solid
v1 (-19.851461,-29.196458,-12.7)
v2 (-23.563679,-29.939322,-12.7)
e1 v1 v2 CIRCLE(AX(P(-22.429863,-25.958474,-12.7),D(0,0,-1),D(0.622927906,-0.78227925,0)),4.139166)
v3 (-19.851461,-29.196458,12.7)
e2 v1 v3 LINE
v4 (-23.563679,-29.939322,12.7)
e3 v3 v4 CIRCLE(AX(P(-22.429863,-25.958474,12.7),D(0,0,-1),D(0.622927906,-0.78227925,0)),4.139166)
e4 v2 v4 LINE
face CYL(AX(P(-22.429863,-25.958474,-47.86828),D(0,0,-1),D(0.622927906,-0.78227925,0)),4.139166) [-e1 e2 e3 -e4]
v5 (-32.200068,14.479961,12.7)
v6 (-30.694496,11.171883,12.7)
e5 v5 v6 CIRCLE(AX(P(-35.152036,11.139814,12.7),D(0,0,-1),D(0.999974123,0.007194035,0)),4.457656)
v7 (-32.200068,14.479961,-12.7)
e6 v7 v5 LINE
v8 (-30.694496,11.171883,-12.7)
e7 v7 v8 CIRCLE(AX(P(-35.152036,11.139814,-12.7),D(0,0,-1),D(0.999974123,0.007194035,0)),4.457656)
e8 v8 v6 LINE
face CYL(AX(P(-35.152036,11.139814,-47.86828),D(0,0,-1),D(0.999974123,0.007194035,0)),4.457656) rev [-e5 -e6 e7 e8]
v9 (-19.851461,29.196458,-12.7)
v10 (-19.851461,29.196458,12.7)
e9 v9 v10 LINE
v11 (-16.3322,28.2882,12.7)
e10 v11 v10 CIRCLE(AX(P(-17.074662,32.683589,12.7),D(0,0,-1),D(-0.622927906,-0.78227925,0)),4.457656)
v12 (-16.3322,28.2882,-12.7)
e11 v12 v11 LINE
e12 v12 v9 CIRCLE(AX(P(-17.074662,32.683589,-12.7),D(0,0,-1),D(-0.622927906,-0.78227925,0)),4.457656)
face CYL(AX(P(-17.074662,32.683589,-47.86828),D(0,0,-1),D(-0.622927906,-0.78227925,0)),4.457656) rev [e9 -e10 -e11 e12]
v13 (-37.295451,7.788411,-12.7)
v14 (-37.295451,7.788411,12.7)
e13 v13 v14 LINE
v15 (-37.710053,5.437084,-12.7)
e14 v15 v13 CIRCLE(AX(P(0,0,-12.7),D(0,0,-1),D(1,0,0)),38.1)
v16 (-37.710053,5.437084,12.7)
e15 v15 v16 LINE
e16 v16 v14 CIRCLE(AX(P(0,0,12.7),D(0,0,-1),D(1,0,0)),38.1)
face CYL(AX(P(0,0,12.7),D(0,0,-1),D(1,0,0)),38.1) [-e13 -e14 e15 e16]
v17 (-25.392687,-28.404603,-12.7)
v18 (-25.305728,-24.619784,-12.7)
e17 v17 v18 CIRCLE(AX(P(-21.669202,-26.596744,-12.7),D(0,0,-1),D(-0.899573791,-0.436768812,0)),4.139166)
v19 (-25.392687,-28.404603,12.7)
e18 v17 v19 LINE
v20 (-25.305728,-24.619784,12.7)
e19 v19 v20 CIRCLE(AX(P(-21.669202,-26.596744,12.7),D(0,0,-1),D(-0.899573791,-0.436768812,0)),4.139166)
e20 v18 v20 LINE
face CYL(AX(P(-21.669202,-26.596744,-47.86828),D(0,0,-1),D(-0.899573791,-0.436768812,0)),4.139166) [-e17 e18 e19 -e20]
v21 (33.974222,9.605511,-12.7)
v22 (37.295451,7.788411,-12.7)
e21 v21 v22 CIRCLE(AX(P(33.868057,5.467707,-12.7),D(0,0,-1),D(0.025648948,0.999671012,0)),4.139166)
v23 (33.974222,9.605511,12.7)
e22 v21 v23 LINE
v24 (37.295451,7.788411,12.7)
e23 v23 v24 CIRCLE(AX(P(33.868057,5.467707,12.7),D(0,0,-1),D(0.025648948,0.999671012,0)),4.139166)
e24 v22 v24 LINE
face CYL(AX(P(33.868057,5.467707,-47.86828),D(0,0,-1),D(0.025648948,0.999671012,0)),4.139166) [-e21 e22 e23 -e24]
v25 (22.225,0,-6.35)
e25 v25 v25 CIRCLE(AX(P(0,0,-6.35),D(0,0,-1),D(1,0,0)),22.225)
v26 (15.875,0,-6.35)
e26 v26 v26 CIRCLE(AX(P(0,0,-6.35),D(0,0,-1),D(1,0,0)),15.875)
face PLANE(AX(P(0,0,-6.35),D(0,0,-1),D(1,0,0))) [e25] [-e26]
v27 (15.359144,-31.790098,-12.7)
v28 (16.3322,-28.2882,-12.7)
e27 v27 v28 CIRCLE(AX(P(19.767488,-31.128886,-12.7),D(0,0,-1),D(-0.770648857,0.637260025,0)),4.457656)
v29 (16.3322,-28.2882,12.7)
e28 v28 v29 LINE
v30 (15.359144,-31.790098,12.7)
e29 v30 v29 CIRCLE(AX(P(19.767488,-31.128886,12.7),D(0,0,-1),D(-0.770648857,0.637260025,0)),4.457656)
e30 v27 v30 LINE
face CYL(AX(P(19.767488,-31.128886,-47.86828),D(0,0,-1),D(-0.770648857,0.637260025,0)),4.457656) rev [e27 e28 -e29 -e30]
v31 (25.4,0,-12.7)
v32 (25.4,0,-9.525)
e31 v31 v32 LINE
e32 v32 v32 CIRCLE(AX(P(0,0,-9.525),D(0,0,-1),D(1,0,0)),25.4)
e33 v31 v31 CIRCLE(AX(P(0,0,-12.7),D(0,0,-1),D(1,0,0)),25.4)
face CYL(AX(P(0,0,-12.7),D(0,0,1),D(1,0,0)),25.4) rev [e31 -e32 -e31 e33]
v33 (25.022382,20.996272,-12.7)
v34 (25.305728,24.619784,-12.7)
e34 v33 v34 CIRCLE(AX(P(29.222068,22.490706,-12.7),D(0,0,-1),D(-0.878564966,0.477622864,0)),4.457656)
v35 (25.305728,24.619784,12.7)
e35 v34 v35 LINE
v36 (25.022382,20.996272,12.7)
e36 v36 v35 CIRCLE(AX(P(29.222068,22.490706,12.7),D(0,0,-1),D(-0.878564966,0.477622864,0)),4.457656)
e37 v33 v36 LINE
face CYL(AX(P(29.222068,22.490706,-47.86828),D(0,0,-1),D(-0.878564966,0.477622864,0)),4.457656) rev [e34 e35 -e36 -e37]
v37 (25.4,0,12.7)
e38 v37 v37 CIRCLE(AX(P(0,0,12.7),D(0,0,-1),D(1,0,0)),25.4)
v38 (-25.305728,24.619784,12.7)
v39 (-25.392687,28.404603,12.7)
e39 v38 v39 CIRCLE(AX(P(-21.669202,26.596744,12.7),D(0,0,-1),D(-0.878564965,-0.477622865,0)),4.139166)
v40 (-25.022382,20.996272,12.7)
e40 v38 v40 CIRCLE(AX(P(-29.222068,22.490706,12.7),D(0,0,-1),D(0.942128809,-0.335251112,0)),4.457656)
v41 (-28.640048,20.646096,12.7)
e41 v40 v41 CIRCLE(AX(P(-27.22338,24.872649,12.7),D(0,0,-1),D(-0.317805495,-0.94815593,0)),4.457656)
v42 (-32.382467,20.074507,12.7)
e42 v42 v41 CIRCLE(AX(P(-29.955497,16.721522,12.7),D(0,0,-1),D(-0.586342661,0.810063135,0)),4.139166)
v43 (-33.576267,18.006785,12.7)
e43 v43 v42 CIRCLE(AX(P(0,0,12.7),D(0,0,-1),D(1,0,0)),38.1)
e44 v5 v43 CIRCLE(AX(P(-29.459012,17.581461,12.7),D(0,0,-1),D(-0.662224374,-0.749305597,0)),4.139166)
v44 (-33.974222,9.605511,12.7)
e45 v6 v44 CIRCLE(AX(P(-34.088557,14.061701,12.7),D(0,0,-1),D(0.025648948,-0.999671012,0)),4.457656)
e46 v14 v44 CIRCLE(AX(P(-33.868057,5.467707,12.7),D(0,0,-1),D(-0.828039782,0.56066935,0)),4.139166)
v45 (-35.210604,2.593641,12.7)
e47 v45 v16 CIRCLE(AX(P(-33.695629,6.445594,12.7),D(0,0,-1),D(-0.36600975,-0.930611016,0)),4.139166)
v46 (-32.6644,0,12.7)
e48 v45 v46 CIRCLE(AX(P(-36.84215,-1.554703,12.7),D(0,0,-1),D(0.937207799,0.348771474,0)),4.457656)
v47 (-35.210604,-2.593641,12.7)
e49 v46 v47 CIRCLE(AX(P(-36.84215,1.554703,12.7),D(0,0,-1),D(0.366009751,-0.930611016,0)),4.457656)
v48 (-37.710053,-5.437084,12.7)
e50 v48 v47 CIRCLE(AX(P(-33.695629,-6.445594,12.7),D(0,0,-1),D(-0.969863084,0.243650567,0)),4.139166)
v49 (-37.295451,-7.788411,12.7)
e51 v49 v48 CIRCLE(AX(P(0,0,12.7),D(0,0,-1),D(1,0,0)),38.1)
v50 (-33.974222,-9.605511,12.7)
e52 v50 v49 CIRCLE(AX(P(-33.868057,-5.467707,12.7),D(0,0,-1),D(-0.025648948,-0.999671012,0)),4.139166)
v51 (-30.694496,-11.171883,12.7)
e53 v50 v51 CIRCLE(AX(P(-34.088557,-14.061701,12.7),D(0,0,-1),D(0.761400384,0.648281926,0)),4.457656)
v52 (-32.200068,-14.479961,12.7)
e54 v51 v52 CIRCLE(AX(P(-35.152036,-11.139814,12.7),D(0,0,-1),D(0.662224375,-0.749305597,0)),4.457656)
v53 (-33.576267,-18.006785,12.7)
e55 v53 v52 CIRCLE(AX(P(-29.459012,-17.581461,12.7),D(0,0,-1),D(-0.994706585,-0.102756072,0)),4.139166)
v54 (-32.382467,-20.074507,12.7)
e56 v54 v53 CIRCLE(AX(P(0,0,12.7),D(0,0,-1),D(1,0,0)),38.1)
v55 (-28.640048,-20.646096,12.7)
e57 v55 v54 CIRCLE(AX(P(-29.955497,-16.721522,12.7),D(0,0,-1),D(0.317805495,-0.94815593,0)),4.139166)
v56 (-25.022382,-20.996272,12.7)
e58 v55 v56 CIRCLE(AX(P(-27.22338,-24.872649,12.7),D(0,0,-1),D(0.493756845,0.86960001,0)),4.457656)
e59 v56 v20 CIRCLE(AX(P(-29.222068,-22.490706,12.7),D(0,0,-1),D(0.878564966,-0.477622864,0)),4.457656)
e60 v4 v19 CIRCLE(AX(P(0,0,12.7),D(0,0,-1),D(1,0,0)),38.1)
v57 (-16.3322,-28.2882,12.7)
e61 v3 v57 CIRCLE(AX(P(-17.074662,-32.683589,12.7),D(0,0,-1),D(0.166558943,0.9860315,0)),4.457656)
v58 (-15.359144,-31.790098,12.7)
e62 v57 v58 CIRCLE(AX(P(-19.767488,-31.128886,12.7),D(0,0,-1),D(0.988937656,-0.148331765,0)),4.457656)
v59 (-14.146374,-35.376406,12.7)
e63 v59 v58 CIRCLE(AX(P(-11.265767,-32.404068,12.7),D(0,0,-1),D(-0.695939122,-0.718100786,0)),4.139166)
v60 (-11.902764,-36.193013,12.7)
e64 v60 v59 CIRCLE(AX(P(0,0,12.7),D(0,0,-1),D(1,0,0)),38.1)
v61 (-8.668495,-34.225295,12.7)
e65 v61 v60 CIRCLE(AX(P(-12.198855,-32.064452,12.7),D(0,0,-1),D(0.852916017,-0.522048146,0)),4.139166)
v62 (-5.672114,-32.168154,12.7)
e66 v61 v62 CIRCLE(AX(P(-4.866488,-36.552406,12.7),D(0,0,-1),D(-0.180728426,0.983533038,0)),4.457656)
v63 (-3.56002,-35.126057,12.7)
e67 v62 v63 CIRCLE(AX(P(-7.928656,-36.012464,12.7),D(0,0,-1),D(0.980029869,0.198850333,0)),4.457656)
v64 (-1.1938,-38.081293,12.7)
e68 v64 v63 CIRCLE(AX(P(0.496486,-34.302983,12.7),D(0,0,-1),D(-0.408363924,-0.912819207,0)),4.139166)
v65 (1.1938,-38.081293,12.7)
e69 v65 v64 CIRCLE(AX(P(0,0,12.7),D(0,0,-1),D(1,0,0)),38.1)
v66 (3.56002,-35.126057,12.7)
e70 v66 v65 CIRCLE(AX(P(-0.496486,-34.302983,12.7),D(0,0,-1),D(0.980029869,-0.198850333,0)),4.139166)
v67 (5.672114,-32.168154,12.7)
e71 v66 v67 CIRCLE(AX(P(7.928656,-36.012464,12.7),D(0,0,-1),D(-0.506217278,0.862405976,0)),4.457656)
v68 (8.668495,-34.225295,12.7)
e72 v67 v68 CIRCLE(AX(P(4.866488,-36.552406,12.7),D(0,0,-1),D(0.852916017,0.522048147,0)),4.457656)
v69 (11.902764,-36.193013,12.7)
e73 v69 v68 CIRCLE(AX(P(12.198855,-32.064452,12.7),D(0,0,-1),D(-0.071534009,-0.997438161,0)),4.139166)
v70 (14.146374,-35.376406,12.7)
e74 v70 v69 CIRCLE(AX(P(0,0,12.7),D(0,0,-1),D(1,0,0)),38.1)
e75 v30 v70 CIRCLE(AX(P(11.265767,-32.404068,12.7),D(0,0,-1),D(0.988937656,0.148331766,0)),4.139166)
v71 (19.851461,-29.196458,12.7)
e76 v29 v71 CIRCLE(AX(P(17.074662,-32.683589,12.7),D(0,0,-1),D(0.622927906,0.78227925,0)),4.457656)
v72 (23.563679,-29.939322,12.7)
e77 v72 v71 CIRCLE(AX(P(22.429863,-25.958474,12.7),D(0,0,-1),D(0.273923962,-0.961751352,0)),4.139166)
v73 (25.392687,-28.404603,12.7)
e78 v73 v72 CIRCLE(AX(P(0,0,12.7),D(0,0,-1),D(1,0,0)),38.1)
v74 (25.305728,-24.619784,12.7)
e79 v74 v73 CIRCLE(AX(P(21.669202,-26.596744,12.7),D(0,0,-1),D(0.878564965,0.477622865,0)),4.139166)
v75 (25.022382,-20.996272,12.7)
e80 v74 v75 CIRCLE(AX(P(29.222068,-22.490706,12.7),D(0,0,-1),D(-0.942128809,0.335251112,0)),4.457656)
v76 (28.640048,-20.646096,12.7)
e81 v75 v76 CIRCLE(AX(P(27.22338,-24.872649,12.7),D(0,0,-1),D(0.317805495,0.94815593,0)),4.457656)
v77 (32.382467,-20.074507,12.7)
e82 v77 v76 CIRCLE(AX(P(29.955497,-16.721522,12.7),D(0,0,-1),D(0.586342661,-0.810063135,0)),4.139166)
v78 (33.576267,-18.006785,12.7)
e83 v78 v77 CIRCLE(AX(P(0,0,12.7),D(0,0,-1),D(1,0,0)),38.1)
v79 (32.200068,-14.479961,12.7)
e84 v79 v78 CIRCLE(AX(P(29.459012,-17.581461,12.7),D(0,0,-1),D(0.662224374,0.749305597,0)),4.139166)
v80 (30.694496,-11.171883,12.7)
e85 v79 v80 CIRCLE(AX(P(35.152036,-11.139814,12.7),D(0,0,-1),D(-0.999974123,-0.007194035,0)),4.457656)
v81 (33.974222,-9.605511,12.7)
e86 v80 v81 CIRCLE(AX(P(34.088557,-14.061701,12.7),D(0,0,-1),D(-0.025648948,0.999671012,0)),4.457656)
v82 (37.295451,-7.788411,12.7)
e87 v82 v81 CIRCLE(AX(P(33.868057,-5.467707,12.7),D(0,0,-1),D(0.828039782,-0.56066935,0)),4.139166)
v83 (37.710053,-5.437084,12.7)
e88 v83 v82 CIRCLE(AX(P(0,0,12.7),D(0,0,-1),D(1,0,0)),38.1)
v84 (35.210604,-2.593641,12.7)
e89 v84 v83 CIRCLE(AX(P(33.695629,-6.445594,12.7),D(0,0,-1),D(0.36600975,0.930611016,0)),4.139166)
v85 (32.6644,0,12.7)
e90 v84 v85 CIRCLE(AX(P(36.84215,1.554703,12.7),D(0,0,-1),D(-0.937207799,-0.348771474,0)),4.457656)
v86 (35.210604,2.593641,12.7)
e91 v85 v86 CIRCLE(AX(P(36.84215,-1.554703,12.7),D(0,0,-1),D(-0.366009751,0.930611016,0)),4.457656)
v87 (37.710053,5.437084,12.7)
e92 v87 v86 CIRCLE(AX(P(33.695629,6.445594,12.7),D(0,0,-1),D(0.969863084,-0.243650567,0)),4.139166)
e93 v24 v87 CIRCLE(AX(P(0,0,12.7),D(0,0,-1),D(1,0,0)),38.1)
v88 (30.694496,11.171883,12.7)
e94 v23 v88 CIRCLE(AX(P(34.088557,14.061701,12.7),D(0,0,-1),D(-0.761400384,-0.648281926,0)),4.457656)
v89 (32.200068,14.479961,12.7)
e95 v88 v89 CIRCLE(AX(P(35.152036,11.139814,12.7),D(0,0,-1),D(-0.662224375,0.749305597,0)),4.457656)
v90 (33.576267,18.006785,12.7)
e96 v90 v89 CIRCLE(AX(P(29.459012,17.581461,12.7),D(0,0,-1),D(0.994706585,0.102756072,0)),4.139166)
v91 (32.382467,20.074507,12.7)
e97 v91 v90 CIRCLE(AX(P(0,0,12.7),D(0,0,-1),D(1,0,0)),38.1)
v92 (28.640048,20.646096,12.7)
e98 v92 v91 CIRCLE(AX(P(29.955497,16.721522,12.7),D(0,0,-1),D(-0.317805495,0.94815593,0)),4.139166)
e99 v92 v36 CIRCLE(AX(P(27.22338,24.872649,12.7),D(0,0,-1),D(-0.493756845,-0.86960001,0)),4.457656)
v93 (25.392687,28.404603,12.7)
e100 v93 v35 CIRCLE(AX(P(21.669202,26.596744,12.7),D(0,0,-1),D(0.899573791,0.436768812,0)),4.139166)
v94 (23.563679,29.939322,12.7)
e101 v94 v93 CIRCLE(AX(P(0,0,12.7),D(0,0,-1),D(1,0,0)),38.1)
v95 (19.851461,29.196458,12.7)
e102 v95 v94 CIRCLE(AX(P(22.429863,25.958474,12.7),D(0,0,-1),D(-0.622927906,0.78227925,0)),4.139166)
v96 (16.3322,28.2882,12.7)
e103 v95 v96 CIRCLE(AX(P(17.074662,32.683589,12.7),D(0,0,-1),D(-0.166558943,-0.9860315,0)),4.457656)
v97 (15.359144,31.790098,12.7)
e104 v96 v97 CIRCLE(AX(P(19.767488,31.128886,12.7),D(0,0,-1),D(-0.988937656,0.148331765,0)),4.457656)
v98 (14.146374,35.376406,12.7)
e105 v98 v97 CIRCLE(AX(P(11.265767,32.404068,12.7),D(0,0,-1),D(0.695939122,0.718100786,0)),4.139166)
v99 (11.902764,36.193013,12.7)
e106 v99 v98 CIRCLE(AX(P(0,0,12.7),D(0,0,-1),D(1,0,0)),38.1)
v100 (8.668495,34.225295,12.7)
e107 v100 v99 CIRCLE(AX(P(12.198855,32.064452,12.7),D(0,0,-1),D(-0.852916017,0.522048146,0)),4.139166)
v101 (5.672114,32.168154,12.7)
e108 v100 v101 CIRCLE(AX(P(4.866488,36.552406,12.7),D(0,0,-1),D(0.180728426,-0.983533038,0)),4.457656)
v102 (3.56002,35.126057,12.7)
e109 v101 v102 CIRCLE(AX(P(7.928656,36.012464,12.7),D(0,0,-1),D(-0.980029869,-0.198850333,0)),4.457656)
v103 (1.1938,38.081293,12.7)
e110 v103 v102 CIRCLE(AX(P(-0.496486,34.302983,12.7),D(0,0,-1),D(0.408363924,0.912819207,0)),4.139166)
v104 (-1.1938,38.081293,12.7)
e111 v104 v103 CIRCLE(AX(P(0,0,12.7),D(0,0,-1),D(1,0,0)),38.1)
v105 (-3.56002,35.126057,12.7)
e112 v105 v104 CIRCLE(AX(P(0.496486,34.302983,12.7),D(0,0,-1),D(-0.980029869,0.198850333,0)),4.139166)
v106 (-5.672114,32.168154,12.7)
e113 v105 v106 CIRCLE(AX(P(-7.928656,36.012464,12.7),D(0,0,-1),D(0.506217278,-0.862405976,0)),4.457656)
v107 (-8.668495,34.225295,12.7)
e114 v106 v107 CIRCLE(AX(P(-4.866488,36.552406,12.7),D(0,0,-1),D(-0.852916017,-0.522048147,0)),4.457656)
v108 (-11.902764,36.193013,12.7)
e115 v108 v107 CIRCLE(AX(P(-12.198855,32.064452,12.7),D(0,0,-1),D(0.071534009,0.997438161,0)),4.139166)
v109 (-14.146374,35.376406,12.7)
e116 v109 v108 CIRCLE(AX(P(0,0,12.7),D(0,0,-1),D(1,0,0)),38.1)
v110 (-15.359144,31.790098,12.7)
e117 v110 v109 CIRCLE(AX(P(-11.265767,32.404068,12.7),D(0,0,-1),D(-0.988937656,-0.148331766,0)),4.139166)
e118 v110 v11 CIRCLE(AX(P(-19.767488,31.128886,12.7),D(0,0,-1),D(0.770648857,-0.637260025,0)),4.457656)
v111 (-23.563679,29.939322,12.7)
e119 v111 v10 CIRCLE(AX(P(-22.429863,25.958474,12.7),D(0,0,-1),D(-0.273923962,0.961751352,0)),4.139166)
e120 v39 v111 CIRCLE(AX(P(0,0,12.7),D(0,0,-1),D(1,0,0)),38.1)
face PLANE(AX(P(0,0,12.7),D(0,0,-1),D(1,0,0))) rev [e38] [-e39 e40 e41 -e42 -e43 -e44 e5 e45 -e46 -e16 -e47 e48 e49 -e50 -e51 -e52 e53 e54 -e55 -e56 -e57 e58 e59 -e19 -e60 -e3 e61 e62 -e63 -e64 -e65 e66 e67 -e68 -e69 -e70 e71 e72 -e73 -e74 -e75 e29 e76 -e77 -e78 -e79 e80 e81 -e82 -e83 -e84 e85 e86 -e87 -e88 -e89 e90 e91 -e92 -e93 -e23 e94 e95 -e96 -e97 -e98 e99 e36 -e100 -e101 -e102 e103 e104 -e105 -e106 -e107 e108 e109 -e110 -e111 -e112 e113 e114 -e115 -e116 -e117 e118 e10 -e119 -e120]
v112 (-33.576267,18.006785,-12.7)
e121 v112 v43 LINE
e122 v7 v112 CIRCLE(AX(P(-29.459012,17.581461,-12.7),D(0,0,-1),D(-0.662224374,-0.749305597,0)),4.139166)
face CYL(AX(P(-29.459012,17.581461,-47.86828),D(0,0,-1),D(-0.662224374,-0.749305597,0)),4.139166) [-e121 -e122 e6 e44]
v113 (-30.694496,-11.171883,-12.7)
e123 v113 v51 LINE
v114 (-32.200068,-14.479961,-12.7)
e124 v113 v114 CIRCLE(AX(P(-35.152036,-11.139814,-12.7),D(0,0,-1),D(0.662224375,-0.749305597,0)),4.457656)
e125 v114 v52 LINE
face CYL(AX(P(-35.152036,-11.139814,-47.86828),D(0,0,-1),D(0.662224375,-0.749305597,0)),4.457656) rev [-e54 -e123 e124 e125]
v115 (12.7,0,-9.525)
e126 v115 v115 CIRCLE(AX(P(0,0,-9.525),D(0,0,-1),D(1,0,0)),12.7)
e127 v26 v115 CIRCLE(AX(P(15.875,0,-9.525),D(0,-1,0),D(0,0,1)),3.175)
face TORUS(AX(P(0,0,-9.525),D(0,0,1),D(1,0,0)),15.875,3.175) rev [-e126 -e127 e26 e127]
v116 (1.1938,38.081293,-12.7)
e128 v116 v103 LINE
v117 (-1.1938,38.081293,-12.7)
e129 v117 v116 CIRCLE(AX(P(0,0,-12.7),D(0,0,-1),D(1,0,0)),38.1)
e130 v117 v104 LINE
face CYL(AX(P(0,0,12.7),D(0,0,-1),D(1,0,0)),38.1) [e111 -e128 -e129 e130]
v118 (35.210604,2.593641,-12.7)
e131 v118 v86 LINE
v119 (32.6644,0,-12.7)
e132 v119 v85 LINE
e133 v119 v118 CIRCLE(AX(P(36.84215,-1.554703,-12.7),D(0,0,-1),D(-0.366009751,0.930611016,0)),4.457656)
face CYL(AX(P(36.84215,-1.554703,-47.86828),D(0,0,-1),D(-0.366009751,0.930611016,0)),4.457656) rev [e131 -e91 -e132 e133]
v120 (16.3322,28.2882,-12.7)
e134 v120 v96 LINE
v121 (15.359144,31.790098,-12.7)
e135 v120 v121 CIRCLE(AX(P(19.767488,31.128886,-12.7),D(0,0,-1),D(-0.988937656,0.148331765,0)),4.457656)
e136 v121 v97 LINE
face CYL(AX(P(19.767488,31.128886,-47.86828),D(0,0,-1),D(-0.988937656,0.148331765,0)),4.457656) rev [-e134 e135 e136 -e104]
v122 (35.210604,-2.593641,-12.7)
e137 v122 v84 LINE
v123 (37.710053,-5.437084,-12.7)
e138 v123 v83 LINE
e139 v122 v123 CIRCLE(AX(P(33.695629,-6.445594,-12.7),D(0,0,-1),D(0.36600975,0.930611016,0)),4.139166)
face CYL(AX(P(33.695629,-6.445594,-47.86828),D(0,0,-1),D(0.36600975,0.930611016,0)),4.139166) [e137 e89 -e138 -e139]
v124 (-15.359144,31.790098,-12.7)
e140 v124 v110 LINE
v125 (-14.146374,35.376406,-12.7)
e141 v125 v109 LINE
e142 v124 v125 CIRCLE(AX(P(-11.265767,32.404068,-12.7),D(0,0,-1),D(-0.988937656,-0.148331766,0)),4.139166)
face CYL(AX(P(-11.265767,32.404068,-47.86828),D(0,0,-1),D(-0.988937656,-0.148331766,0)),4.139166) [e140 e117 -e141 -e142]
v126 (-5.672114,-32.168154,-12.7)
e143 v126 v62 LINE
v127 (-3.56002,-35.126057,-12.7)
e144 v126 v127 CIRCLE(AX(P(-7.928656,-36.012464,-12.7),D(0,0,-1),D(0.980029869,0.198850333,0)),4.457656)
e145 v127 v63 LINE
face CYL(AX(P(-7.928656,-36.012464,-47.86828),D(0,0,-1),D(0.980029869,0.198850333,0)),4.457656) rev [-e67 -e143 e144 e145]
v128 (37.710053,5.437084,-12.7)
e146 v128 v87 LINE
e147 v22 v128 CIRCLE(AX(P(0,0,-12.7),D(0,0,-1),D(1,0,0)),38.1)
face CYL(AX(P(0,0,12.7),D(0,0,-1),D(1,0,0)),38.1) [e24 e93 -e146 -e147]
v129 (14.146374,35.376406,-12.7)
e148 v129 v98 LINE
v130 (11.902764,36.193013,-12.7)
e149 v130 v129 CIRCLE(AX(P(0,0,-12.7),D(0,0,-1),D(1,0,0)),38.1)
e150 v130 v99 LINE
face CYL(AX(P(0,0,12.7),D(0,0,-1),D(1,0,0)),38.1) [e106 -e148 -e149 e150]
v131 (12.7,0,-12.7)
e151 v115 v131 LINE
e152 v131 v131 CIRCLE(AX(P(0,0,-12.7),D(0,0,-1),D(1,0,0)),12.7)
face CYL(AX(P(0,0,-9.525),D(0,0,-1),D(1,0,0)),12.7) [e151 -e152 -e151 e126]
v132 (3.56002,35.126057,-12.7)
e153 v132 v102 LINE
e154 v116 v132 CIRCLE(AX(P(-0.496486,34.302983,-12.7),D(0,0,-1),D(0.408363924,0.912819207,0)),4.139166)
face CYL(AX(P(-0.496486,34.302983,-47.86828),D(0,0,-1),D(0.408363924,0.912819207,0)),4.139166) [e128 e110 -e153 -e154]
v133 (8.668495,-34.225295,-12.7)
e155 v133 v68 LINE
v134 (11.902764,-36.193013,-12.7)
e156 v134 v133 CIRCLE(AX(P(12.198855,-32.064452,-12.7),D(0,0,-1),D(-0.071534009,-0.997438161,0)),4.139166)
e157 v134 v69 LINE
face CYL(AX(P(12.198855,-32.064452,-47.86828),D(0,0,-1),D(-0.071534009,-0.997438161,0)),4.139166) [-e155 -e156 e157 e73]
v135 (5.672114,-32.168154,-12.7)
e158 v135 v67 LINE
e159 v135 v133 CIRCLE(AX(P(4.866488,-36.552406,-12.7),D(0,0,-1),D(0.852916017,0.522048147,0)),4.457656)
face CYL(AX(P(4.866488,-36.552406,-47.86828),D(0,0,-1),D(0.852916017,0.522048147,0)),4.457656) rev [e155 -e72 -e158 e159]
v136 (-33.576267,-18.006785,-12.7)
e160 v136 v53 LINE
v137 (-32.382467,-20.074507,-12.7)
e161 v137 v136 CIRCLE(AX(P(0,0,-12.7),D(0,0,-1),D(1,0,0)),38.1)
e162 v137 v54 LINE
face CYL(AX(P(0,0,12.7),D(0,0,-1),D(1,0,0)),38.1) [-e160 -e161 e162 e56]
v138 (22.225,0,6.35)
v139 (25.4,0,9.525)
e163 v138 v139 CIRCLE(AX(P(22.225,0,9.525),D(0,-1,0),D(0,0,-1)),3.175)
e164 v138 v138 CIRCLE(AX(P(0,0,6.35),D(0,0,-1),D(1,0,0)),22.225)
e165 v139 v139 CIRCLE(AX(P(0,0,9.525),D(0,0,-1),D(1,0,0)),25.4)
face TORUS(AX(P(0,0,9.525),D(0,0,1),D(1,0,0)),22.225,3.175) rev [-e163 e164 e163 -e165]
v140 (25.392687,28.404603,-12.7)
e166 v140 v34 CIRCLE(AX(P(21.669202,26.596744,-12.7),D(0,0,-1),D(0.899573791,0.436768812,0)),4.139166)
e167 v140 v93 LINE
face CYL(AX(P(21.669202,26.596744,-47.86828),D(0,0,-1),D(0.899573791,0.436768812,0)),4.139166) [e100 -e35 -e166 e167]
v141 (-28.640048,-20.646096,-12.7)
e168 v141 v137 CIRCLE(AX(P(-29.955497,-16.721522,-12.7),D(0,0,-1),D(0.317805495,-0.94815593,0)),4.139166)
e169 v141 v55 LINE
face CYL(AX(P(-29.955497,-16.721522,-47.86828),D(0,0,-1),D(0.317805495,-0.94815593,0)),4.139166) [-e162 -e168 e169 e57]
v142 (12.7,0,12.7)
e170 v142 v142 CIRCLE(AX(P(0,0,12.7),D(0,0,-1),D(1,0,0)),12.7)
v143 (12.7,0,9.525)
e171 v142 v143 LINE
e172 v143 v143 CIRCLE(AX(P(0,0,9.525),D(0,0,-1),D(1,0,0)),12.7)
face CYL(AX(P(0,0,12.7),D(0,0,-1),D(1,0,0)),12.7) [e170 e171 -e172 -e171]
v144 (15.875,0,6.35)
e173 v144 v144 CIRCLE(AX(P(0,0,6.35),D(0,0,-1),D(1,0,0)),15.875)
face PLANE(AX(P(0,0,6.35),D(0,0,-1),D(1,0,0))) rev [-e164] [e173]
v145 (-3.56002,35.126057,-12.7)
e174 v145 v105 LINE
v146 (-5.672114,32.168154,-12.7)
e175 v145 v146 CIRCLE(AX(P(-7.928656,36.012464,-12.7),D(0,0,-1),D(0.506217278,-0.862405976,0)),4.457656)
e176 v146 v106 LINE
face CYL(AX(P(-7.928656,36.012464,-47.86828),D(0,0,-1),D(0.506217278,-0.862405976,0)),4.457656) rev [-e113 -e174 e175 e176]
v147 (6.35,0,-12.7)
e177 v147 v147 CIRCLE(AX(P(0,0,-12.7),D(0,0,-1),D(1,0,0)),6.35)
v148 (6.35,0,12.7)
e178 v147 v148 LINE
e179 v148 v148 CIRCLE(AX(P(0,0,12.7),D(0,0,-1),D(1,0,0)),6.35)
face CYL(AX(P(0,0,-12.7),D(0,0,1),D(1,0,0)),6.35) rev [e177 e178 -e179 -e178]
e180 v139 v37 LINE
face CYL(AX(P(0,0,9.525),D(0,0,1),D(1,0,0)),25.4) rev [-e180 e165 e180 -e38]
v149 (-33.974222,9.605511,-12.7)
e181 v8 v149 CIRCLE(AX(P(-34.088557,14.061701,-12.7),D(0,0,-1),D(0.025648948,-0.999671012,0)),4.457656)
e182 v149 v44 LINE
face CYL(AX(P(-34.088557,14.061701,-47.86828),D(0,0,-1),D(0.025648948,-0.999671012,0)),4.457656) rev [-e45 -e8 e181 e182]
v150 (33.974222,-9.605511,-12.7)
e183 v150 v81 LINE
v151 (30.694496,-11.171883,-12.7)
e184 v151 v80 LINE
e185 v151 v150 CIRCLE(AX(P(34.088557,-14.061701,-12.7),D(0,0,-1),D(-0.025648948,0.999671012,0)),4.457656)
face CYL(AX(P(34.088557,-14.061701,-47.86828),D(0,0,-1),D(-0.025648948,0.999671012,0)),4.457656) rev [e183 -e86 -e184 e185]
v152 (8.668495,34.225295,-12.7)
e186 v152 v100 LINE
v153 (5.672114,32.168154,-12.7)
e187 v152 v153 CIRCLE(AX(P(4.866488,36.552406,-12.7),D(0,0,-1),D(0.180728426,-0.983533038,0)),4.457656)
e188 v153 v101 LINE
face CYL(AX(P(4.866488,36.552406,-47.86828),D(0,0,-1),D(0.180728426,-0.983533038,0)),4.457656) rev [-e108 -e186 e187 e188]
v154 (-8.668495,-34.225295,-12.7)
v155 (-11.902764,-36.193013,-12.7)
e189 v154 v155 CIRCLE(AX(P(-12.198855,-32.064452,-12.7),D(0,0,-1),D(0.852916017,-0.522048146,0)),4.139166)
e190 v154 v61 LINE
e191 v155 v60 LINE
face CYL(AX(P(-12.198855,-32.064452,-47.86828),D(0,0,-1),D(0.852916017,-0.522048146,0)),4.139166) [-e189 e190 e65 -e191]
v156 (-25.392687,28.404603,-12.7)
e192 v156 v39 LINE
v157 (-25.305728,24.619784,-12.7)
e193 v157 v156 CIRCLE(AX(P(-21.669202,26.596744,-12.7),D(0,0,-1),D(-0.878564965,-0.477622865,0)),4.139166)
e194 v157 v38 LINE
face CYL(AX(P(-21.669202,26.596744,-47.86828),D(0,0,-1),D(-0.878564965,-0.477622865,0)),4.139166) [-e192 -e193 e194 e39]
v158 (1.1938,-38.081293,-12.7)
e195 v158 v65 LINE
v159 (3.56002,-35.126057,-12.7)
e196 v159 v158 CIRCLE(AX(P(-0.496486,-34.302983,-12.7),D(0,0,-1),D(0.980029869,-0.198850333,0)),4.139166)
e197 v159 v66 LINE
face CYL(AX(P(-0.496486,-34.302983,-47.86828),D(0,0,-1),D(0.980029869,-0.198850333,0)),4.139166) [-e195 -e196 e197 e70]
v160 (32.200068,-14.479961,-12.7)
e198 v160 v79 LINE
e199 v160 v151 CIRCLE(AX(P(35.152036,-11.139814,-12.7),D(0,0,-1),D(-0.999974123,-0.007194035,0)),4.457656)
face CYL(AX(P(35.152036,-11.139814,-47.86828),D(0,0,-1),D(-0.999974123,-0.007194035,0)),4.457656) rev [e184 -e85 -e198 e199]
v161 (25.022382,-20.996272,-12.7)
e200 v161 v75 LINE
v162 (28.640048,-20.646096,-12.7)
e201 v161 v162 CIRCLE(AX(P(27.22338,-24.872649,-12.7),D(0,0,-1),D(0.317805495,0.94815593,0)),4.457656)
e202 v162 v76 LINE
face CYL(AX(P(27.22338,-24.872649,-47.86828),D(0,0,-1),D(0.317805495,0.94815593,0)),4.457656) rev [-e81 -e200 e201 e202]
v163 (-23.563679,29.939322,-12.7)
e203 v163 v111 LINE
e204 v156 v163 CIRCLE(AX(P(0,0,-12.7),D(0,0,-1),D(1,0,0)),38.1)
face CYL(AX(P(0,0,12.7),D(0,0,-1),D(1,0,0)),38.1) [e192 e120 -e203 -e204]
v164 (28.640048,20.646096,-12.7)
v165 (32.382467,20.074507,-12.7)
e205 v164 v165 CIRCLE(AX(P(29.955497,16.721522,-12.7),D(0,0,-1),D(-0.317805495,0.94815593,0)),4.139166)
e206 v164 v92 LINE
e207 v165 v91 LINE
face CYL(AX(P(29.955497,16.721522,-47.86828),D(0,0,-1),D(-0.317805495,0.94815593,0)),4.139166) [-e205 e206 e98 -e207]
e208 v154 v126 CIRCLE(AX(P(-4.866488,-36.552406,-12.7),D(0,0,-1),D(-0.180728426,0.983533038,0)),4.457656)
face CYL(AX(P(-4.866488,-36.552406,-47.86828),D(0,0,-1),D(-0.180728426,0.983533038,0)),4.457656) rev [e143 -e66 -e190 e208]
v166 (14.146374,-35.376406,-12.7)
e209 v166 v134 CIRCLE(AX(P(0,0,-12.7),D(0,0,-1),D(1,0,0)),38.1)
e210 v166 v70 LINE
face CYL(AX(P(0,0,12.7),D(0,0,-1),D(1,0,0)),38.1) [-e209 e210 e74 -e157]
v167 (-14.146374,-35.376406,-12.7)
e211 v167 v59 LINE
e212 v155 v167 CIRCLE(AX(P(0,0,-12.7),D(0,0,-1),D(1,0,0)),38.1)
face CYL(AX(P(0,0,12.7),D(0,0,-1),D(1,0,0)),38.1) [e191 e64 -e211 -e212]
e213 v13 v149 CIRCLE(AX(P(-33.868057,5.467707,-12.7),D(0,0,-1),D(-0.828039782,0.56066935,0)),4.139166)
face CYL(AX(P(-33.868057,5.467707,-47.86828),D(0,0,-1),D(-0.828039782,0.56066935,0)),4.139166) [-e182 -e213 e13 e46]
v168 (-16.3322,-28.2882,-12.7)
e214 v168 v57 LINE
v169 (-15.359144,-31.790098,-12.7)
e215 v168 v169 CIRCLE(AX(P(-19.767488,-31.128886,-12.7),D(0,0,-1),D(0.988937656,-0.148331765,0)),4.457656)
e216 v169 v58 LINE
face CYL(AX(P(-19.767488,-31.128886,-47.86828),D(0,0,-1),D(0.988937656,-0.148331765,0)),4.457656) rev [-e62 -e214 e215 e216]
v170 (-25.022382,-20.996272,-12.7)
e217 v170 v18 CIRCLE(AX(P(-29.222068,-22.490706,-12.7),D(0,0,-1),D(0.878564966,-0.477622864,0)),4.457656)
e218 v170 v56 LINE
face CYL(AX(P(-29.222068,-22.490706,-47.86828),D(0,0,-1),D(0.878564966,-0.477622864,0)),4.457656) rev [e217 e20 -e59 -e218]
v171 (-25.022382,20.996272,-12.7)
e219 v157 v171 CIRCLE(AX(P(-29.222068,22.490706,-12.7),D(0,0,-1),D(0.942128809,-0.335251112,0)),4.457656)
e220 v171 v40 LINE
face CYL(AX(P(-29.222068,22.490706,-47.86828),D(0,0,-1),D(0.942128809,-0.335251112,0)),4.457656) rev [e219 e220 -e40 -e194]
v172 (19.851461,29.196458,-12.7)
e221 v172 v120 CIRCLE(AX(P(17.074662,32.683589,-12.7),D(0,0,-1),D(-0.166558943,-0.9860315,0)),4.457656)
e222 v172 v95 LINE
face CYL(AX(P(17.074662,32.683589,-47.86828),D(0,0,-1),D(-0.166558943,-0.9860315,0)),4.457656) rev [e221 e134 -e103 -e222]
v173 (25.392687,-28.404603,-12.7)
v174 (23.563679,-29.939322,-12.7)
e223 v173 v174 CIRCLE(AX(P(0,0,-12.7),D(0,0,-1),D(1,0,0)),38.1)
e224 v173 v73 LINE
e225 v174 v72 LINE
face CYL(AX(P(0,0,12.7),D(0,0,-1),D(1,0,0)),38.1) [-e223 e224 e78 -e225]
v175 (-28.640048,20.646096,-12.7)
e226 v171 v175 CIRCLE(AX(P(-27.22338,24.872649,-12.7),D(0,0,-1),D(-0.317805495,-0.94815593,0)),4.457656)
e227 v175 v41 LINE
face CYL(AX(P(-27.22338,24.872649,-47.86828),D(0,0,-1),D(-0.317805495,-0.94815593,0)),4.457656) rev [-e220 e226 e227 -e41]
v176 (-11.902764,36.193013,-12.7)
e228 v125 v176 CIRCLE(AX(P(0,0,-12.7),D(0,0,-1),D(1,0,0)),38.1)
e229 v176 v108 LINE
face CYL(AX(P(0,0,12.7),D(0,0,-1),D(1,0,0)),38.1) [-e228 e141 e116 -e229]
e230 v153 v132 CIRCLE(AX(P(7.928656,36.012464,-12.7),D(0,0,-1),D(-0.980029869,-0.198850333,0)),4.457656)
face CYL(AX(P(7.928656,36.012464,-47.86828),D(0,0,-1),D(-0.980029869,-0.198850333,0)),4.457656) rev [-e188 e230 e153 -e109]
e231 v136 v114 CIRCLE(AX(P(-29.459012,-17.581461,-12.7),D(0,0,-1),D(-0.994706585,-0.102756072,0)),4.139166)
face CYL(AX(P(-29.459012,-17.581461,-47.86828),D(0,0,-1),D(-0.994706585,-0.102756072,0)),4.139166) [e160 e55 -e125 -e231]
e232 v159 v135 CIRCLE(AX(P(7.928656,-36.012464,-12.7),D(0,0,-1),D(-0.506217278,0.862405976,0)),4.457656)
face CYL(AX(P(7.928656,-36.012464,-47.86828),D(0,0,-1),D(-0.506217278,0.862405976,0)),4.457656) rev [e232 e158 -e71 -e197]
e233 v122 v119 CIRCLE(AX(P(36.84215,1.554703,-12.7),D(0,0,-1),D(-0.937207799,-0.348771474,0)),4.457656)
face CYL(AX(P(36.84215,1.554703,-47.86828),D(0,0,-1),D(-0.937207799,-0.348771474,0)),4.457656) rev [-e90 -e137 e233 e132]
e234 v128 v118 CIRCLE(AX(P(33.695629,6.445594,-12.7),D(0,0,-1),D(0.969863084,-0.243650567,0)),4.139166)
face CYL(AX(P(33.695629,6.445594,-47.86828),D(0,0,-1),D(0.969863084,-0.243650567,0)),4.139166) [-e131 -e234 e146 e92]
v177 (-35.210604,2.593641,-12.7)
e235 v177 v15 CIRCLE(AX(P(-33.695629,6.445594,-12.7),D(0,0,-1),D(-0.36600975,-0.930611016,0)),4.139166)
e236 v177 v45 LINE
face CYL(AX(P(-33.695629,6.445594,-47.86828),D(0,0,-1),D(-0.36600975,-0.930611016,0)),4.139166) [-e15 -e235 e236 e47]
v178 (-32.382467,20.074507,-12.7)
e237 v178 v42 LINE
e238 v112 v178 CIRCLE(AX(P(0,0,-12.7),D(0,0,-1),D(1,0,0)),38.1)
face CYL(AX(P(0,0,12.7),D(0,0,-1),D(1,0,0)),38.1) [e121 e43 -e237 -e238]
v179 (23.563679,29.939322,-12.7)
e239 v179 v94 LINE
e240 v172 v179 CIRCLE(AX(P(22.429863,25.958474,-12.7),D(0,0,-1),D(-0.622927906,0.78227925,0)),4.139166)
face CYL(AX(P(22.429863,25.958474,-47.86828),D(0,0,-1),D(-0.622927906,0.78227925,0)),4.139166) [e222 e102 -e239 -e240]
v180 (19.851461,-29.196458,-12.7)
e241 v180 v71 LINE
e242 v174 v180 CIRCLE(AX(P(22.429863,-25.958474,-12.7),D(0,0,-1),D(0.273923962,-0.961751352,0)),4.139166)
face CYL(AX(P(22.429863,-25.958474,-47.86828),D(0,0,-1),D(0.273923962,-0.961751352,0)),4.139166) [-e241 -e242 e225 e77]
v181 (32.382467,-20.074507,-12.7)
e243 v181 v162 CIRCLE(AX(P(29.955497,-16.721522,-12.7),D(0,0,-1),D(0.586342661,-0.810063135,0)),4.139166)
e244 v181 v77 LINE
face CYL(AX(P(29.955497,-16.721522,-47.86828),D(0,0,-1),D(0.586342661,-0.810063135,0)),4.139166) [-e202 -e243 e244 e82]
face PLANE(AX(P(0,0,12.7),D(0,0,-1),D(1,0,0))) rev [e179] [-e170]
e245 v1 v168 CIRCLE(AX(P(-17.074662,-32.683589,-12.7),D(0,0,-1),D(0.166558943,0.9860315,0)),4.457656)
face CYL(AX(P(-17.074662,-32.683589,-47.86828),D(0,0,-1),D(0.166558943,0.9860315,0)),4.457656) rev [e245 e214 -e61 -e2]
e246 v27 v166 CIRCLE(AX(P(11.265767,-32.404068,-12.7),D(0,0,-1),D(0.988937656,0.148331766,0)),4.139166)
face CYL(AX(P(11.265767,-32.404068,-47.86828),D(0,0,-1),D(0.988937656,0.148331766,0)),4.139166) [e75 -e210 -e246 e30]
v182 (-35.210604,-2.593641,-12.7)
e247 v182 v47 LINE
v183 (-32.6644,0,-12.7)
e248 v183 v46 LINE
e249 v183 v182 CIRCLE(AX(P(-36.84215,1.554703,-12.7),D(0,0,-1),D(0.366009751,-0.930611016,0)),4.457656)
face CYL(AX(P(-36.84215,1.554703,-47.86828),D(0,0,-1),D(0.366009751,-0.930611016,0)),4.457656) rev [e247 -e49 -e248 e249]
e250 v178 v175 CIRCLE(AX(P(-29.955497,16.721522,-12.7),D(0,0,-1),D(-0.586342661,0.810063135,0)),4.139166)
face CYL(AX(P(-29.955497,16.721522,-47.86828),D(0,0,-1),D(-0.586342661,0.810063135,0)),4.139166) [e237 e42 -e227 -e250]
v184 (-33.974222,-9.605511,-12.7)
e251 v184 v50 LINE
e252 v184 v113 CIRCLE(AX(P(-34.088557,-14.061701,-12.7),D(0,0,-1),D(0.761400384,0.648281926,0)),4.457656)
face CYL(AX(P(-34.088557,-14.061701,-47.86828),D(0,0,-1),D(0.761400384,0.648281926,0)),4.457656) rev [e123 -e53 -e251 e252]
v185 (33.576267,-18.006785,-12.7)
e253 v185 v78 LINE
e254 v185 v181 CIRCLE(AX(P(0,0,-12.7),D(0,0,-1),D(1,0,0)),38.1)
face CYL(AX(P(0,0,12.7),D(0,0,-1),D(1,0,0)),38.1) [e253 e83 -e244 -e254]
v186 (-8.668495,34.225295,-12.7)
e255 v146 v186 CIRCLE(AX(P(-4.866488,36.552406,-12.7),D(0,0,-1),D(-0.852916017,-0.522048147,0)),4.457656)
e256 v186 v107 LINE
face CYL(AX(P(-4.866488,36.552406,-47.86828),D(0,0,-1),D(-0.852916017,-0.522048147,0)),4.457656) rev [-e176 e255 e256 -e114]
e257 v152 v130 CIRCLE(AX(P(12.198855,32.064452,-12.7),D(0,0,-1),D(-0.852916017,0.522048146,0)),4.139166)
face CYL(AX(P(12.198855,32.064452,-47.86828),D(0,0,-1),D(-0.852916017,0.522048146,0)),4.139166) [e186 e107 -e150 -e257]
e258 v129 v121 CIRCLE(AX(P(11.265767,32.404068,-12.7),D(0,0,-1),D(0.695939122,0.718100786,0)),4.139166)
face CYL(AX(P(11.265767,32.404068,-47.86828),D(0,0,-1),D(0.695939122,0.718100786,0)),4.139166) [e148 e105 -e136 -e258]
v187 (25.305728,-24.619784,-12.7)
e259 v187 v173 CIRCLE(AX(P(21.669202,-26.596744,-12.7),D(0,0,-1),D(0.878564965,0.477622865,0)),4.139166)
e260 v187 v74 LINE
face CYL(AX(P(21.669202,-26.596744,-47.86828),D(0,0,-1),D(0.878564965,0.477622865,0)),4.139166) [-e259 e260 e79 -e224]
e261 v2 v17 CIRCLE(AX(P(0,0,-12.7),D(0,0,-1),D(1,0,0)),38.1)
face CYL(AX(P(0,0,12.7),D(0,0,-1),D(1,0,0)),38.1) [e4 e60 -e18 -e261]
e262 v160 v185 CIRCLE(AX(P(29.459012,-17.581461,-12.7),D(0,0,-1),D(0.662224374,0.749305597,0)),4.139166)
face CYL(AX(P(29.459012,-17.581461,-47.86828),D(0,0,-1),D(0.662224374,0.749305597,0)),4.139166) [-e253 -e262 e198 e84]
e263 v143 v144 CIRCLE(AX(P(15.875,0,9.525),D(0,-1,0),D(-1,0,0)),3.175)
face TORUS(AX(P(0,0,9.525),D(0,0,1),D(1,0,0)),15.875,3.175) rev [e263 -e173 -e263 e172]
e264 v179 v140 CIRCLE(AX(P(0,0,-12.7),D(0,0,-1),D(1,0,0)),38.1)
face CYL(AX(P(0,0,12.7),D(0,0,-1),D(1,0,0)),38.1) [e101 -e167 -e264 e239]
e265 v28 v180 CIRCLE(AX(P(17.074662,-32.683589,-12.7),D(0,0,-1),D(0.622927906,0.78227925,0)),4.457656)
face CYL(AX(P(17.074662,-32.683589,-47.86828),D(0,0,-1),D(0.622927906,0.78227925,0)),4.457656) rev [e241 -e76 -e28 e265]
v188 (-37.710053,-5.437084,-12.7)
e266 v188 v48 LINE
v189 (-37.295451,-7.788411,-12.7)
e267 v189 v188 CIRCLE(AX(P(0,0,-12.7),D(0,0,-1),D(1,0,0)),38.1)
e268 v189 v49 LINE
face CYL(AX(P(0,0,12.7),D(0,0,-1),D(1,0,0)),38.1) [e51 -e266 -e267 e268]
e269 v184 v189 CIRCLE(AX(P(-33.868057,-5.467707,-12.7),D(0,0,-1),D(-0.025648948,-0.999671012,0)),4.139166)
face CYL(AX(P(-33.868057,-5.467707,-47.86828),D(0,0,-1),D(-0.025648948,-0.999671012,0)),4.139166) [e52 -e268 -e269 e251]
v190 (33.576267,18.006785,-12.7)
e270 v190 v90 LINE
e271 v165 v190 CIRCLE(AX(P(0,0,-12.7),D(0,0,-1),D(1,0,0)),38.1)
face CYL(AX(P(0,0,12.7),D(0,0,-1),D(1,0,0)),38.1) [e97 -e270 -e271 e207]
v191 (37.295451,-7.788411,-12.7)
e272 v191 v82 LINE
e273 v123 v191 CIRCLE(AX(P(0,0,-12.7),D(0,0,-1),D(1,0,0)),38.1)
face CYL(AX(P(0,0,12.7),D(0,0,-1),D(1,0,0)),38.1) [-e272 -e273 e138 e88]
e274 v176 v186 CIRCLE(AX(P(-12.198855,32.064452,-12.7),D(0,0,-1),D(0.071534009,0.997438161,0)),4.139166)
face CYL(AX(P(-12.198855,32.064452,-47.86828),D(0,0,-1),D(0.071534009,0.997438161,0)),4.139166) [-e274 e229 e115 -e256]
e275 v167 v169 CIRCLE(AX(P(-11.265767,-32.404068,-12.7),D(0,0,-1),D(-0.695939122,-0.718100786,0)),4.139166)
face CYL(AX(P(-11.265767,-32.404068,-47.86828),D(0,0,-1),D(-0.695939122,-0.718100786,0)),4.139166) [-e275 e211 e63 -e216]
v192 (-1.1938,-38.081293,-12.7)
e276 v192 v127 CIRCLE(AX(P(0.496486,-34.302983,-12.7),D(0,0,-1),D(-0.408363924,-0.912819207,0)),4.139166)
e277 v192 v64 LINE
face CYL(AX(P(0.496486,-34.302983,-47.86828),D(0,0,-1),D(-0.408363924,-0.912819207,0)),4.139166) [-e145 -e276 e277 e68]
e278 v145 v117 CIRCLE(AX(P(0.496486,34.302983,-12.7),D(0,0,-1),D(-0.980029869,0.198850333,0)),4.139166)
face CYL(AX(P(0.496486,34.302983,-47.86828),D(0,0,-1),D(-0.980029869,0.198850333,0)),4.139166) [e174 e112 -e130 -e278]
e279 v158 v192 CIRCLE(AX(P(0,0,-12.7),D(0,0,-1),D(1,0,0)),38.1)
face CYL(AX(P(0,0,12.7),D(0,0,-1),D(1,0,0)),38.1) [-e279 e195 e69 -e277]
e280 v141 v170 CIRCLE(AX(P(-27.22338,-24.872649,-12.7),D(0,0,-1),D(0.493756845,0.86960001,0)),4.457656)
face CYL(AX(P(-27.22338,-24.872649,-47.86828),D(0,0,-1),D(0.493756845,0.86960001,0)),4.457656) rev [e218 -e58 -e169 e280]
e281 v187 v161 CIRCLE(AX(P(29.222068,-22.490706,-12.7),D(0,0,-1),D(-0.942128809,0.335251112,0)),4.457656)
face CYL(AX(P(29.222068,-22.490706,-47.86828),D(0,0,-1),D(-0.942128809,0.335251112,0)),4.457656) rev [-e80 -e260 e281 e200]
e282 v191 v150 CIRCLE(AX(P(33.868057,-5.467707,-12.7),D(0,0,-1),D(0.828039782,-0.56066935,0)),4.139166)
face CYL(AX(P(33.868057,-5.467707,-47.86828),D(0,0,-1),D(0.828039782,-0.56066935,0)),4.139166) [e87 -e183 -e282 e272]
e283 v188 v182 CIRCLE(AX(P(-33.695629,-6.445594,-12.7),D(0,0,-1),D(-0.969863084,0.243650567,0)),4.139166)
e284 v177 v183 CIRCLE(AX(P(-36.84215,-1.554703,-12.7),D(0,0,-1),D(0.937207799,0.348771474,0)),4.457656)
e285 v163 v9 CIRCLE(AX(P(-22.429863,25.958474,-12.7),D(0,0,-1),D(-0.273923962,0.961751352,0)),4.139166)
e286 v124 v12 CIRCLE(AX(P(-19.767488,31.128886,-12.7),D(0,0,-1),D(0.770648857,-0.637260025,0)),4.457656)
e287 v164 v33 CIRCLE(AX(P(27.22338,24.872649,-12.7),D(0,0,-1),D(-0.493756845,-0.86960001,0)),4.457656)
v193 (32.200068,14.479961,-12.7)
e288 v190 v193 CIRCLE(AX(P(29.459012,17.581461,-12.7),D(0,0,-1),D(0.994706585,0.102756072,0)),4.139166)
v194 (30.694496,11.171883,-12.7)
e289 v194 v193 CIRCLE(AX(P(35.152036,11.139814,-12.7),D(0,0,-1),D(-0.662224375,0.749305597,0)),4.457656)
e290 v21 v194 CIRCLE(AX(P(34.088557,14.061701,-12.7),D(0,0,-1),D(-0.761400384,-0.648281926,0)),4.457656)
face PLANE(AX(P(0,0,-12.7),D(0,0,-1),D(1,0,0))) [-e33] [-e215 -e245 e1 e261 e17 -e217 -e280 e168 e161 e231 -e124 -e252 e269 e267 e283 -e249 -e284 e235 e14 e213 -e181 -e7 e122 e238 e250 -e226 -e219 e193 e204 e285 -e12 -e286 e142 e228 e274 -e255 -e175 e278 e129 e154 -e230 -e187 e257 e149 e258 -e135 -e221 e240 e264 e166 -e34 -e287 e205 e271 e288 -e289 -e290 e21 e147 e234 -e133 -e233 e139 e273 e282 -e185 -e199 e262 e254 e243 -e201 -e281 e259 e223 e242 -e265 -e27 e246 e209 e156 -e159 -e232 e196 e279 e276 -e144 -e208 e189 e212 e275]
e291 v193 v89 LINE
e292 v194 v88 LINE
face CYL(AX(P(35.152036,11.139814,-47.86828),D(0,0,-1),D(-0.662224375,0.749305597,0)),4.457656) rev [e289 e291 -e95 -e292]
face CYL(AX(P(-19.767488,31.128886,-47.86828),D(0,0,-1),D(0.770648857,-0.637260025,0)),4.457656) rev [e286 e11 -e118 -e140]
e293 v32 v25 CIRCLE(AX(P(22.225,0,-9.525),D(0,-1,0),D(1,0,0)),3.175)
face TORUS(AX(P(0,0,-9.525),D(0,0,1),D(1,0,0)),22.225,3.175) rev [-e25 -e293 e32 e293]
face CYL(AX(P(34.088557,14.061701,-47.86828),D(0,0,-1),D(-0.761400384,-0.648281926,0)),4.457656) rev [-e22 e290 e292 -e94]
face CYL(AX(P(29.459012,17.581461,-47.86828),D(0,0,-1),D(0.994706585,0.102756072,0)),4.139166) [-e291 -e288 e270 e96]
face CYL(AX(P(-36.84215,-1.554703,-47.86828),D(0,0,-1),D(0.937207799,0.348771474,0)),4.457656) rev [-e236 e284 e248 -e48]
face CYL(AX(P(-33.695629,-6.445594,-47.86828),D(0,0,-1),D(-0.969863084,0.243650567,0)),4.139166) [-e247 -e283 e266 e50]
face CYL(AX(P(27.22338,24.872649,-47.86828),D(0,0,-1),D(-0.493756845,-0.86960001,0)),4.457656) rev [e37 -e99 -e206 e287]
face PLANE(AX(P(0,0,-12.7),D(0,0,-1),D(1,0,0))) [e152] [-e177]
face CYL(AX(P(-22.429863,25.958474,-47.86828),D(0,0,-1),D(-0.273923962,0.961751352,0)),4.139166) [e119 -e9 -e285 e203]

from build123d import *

# Parameters (mm, degrees)
CUT_EXTRUDE4_DEPTH      = 60.56828015
CUT_EXTRUDE4_DEPTH_BACK = 60.56828015


with BuildPart() as part:
    # Sketch1 → Revolve1 (revolve)
    with BuildSketch(Plane(origin=(0, 0, 0), x_dir=(0, 0, -1), z_dir=(1, 0, 0)), mode=Mode.PRIVATE) as revolve1_sk:
        with BuildLine():
            ThreePointArc((9.525, 25.4), (7.27993597, 24.47006403), (6.35, 22.225))
            Line((6.35, 22.225), (6.35, 15.875))
            ThreePointArc((6.35, 15.875), (7.27993597, 13.62993597), (9.525, 12.7))
            Line((9.525, 12.7), (12.7, 12.7))
            Line((12.7, 12.7), (12.7, 6.35))
            Line((12.7, 6.35), (-12.7, 6.35))
            Line((-12.7, 6.35), (-12.7, 12.7))
            Line((-12.7, 12.7), (-9.525, 12.7))
            ThreePointArc((-9.525, 12.7), (-7.27993597, 13.62993597), (-6.35, 15.875))
            Line((-6.35, 15.875), (-6.35, 22.225))
            ThreePointArc((-6.35, 22.225), (-7.27993597, 24.47006403), (-9.525, 25.4))
            Line((-9.525, 25.4), (-12.7, 25.4))
            Line((-12.7, 25.4), (-12.7, 38.1))
            Line((-12.7, 38.1), (12.7, 38.1))
            Line((12.7, 38.1), (12.7, 25.4))
            Line((12.7, 25.4), (9.525, 25.4))
        make_face()
    revolve(revolve1_sk.sketch.rotate(Axis((0, 0, 45.501840491), (0, 0, -1)), 90), axis=Axis((0, 0, 45.501840491), (0, 0, -1)))

    # Sketch2 → Cut-Extrude4 (cut, two sides: drawn at the far end of the back side and taken through both)
    with BuildSketch(Plane.XY.offset(12.7).offset(-CUT_EXTRUDE4_DEPTH_BACK)):
        with BuildLine():
            ThreePointArc((35.210604435, 2.593640551), (33.661156199, 1.568112092), (32.6644, 0))
            ThreePointArc((32.6644, 0), (33.661156199, -1.568112092), (35.210604435, -2.593640551))
            ThreePointArc((35.210604435, -2.593640551), (36.804464445, -3.712859333), (37.710053333, -5.437083557))
            ThreePointArc((37.710053333, -5.437083557), (38.1, 0), (37.710053333, 5.437083557))
            ThreePointArc((37.710053333, 5.437083557), (36.804464445, 3.712859333), (35.210604435, 2.593640551))
        make_face()
        with BuildLine():
            ThreePointArc((32.200067848, 14.479960862), (31.094814165, 12.98633683), (30.694495642, 11.17188277))
            ThreePointArc((30.694495642, 11.17188277), (32.16746601, 10.039250106), (33.974222474, 9.605511089))
            ThreePointArc((33.974222474, 9.605511089), (35.854756332, 9.098921688), (37.295450944, 7.788410548))
            ThreePointArc((37.295450944, 7.788410548), (35.802288852, 13.030967461), (33.576266749, 18.006785143))
            ThreePointArc((33.576266749, 18.006785143), (33.31501097, 16.076814721), (32.200067848, 14.479960862))
        make_face()
        with BuildLine():
            ThreePointArc((33.974222474, -9.605511089), (32.16746601, -10.039250106), (30.694495642, -11.17188277))
            ThreePointArc((30.694495642, -11.17188277), (31.094814165, -12.98633683), (32.200067848, -14.479960862))
            ThreePointArc((32.200067848, -14.479960862), (33.31501097, -16.076814721), (33.576266749, -18.006785143))
            ThreePointArc((33.576266749, -18.006785143), (35.802288852, -13.030967461), (37.295450944, -7.788410548))
            ThreePointArc((37.295450944, -7.788410548), (35.854756332, -9.098921688), (33.974222474, -9.605511089))
        make_face()
        with BuildLine():
            ThreePointArc((25.305727856, 24.619784192), (24.777978632, 22.838217687), (25.022382108, 20.996271598))
            ThreePointArc((25.022382108, 20.996271598), (26.793904679, 20.435730578), (28.640047877, 20.646096329))
            ThreePointArc((28.640047877, 20.646096329), (30.580435445, 20.813238467), (32.382466749, 20.074507397))
            ThreePointArc((32.382466749, 20.074507397), (29.186293283, 24.490207929), (25.392686862, 28.404602689))
            ThreePointArc((25.392686862, 28.404602689), (25.807275495, 26.501668986), (25.305727856, 24.619784192))
        make_face()
        with BuildLine():
            ThreePointArc((28.640047877, -20.646096329), (26.793904679, -20.435730578), (25.022382108, -20.996271598))
            ThreePointArc((25.022382108, -20.996271598), (24.777978632, -22.838217687), (25.305727856, -24.619784192))
            ThreePointArc((25.305727856, -24.619784192), (25.807275495, -26.501668986), (25.392686862, -28.404602689))
            ThreePointArc((25.392686862, -28.404602689), (29.186293283, -24.490207929), (32.382466749, -20.074507397))
            ThreePointArc((32.382466749, -20.074507397), (30.580435445, -20.813238467), (28.640047877, -20.646096329))
        make_face()
        with BuildLine():
            ThreePointArc((15.359143612, 31.790098199), (15.472553192, 29.935472436), (16.3322, 28.288200199))
            ThreePointArc((16.3322, 28.288200199), (18.188603008, 28.367360343), (19.851460823, 29.196457648))
            ThreePointArc((19.851460823, 29.196457648), (21.617662725, 30.017171516), (23.56367915, 29.939322386))
            ThreePointArc((23.56367915, 29.939322386), (19.05, 32.995567884), (14.146374183, 35.376405943))
            ThreePointArc((14.146374183, 35.376405943), (15.18680172, 33.730030848), (15.359143612, 31.790098199))
        make_face()
        with BuildLine():
            ThreePointArc((19.851460823, -29.196457648), (18.188603008, -28.367360343), (16.3322, -28.288200199))
            ThreePointArc((16.3322, -28.288200199), (15.472553192, -29.935472436), (15.359143612, -31.790098199))
            ThreePointArc((15.359143612, -31.790098199), (15.18680172, -33.730030848), (14.146374183, -35.376405943))
            ThreePointArc((14.146374183, -35.376405943), (19.05, -32.995567884), (23.56367915, -29.939322386))
            ThreePointArc((23.56367915, -29.939322386), (21.617662725, -30.017171516), (19.851460823, -29.196457648))
        make_face()
        with BuildLine():
            ThreePointArc((3.560019972, 35.126057191), (4.300909486, 33.422067408), (5.672113535, 32.168154367))
            ThreePointArc((5.672113535, 32.168154367), (7.389487378, 32.877467793), (8.668494618, 34.225295281))
            ThreePointArc((8.668494618, 34.225295281), (10.047480837, 35.600590674), (11.902764082, 36.193013237))
            ThreePointArc((11.902764082, 36.193013237), (6.615995569, 37.52117539), (1.1938, 38.081292541))
            ThreePointArc((1.1938, 38.081292541), (2.734575524, 36.890053188), (3.560019972, 35.126057191))
        make_face()
        with BuildLine():
            ThreePointArc((8.668494618, -34.225295281), (7.389487378, -32.877467793), (5.672113535, -32.168154367))
            ThreePointArc((5.672113535, -32.168154367), (4.300909486, -33.422067408), (3.560019972, -35.126057191))
            ThreePointArc((3.560019972, -35.126057191), (2.734575524, -36.890053188), (1.1938, -38.081292541))
            ThreePointArc((1.1938, -38.081292541), (6.615995569, -37.52117539), (11.902764082, -36.193013237))
            ThreePointArc((11.902764082, -36.193013237), (10.047480837, -35.600590674), (8.668494618, -34.225295281))
        make_face()
        with BuildLine():
            ThreePointArc((-8.668494618, 34.225295281), (-7.389487378, 32.877467793), (-5.672113535, 32.168154367))
            ThreePointArc((-5.672113535, 32.168154367), (-4.300909486, 33.422067408), (-3.560019972, 35.126057191))
            ThreePointArc((-3.560019972, 35.126057191), (-2.734575524, 36.890053188), (-1.1938, 38.081292541))
            ThreePointArc((-1.1938, 38.081292541), (-6.615995569, 37.52117539), (-11.902764082, 36.193013237))
            ThreePointArc((-11.902764082, 36.193013237), (-10.047480837, 35.600590674), (-8.668494618, 34.225295281))
        make_face()
        with BuildLine():
            ThreePointArc((-3.560019972, -35.126057191), (-4.300909486, -33.422067408), (-5.672113535, -32.168154367))
            ThreePointArc((-5.672113535, -32.168154367), (-7.389487378, -32.877467793), (-8.668494618, -34.225295281))
            ThreePointArc((-8.668494618, -34.225295281), (-10.047480837, -35.600590674), (-11.902764082, -36.193013237))
            ThreePointArc((-11.902764082, -36.193013237), (-6.615995569, -37.52117539), (-1.1938, -38.081292541))
            ThreePointArc((-1.1938, -38.081292541), (-2.734575524, -36.890053188), (-3.560019972, -35.126057191))
        make_face()
        with BuildLine():
            ThreePointArc((-19.851460823, 29.196457648), (-18.188603008, 28.367360343), (-16.3322, 28.288200199))
            ThreePointArc((-16.3322, 28.288200199), (-15.472553192, 29.935472436), (-15.359143612, 31.790098199))
            ThreePointArc((-15.359143612, 31.790098199), (-15.18680172, 33.730030848), (-14.146374183, 35.376405943))
            ThreePointArc((-14.146374183, 35.376405943), (-19.05, 32.995567884), (-23.56367915, 29.939322386))
            ThreePointArc((-23.56367915, 29.939322386), (-21.617662725, 30.017171516), (-19.851460823, 29.196457648))
        make_face()
        with BuildLine():
            ThreePointArc((-15.359143612, -31.790098199), (-15.472553192, -29.935472436), (-16.3322, -28.288200199))
            ThreePointArc((-16.3322, -28.288200199), (-18.188603008, -28.367360343), (-19.851460823, -29.196457648))
            ThreePointArc((-19.851460823, -29.196457648), (-21.617662725, -30.017171516), (-23.56367915, -29.939322386))
            ThreePointArc((-23.56367915, -29.939322386), (-19.05, -32.995567884), (-14.146374183, -35.376405943))
            ThreePointArc((-14.146374183, -35.376405943), (-15.18680172, -33.730030848), (-15.359143612, -31.790098199))
        make_face()
        with BuildLine():
            ThreePointArc((-28.640047877, 20.646096329), (-26.793904679, 20.435730578), (-25.022382108, 20.996271598))
            ThreePointArc((-25.022382108, 20.996271598), (-24.777978632, 22.838217687), (-25.305727856, 24.619784192))
            ThreePointArc((-25.305727856, 24.619784192), (-25.807275495, 26.501668986), (-25.392686862, 28.404602689))
            ThreePointArc((-25.392686862, 28.404602689), (-29.186293283, 24.490207929), (-32.382466749, 20.074507397))
            ThreePointArc((-32.382466749, 20.074507397), (-30.580435445, 20.813238467), (-28.640047877, 20.646096329))
        make_face()
        with BuildLine():
            ThreePointArc((-25.305727856, -24.619784192), (-24.777978632, -22.838217687), (-25.022382108, -20.996271598))
            ThreePointArc((-25.022382108, -20.996271598), (-26.793904679, -20.435730578), (-28.640047877, -20.646096329))
            ThreePointArc((-28.640047877, -20.646096329), (-30.580435445, -20.813238467), (-32.382466749, -20.074507397))
            ThreePointArc((-32.382466749, -20.074507397), (-29.186293283, -24.490207929), (-25.392686862, -28.404602689))
            ThreePointArc((-25.392686862, -28.404602689), (-25.807275495, -26.501668986), (-25.305727856, -24.619784192))
        make_face()
        with BuildLine():
            ThreePointArc((-33.974222474, 9.605511089), (-32.16746601, 10.039250106), (-30.694495642, 11.17188277))
            ThreePointArc((-30.694495642, 11.17188277), (-31.094814165, 12.98633683), (-32.200067848, 14.479960862))
            ThreePointArc((-32.200067848, 14.479960862), (-33.31501097, 16.076814721), (-33.576266749, 18.006785143))
            ThreePointArc((-33.576266749, 18.006785143), (-35.802288852, 13.030967461), (-37.295450944, 7.788410548))
            ThreePointArc((-37.295450944, 7.788410548), (-35.854756332, 9.098921688), (-33.974222474, 9.605511089))
        make_face()
        with BuildLine():
            ThreePointArc((-32.200067848, -14.479960862), (-31.094814165, -12.98633683), (-30.694495642, -11.17188277))
            ThreePointArc((-30.694495642, -11.17188277), (-32.16746601, -10.039250106), (-33.974222474, -9.605511089))
            ThreePointArc((-33.974222474, -9.605511089), (-35.854756332, -9.098921688), (-37.295450944, -7.788410548))
            ThreePointArc((-37.295450944, -7.788410548), (-35.802288852, -13.030967461), (-33.576266749, -18.006785143))
            ThreePointArc((-33.576266749, -18.006785143), (-33.31501097, -16.076814721), (-32.200067848, -14.479960862))
        make_face()
        with BuildLine():
            ThreePointArc((-35.210604435, -2.593640551), (-33.661156199, -1.568112092), (-32.6644, 0))
            ThreePointArc((-32.6644, 0), (-33.661156199, 1.568112092), (-35.210604435, 2.593640551))
            ThreePointArc((-35.210604435, 2.593640551), (-36.804464445, 3.712859333), (-37.710053333, 5.437083557))
            ThreePointArc((-37.710053333, 5.437083557), (-38.1, 0), (-37.710053333, -5.437083557))
            ThreePointArc((-37.710053333, -5.437083557), (-36.804464445, -3.712859333), (-35.210604435, -2.593640551))
        make_face()
    extrude(amount=CUT_EXTRUDE4_DEPTH + CUT_EXTRUDE4_DEPTH_BACK, mode=Mode.SUBTRACT)


solid = part.part
